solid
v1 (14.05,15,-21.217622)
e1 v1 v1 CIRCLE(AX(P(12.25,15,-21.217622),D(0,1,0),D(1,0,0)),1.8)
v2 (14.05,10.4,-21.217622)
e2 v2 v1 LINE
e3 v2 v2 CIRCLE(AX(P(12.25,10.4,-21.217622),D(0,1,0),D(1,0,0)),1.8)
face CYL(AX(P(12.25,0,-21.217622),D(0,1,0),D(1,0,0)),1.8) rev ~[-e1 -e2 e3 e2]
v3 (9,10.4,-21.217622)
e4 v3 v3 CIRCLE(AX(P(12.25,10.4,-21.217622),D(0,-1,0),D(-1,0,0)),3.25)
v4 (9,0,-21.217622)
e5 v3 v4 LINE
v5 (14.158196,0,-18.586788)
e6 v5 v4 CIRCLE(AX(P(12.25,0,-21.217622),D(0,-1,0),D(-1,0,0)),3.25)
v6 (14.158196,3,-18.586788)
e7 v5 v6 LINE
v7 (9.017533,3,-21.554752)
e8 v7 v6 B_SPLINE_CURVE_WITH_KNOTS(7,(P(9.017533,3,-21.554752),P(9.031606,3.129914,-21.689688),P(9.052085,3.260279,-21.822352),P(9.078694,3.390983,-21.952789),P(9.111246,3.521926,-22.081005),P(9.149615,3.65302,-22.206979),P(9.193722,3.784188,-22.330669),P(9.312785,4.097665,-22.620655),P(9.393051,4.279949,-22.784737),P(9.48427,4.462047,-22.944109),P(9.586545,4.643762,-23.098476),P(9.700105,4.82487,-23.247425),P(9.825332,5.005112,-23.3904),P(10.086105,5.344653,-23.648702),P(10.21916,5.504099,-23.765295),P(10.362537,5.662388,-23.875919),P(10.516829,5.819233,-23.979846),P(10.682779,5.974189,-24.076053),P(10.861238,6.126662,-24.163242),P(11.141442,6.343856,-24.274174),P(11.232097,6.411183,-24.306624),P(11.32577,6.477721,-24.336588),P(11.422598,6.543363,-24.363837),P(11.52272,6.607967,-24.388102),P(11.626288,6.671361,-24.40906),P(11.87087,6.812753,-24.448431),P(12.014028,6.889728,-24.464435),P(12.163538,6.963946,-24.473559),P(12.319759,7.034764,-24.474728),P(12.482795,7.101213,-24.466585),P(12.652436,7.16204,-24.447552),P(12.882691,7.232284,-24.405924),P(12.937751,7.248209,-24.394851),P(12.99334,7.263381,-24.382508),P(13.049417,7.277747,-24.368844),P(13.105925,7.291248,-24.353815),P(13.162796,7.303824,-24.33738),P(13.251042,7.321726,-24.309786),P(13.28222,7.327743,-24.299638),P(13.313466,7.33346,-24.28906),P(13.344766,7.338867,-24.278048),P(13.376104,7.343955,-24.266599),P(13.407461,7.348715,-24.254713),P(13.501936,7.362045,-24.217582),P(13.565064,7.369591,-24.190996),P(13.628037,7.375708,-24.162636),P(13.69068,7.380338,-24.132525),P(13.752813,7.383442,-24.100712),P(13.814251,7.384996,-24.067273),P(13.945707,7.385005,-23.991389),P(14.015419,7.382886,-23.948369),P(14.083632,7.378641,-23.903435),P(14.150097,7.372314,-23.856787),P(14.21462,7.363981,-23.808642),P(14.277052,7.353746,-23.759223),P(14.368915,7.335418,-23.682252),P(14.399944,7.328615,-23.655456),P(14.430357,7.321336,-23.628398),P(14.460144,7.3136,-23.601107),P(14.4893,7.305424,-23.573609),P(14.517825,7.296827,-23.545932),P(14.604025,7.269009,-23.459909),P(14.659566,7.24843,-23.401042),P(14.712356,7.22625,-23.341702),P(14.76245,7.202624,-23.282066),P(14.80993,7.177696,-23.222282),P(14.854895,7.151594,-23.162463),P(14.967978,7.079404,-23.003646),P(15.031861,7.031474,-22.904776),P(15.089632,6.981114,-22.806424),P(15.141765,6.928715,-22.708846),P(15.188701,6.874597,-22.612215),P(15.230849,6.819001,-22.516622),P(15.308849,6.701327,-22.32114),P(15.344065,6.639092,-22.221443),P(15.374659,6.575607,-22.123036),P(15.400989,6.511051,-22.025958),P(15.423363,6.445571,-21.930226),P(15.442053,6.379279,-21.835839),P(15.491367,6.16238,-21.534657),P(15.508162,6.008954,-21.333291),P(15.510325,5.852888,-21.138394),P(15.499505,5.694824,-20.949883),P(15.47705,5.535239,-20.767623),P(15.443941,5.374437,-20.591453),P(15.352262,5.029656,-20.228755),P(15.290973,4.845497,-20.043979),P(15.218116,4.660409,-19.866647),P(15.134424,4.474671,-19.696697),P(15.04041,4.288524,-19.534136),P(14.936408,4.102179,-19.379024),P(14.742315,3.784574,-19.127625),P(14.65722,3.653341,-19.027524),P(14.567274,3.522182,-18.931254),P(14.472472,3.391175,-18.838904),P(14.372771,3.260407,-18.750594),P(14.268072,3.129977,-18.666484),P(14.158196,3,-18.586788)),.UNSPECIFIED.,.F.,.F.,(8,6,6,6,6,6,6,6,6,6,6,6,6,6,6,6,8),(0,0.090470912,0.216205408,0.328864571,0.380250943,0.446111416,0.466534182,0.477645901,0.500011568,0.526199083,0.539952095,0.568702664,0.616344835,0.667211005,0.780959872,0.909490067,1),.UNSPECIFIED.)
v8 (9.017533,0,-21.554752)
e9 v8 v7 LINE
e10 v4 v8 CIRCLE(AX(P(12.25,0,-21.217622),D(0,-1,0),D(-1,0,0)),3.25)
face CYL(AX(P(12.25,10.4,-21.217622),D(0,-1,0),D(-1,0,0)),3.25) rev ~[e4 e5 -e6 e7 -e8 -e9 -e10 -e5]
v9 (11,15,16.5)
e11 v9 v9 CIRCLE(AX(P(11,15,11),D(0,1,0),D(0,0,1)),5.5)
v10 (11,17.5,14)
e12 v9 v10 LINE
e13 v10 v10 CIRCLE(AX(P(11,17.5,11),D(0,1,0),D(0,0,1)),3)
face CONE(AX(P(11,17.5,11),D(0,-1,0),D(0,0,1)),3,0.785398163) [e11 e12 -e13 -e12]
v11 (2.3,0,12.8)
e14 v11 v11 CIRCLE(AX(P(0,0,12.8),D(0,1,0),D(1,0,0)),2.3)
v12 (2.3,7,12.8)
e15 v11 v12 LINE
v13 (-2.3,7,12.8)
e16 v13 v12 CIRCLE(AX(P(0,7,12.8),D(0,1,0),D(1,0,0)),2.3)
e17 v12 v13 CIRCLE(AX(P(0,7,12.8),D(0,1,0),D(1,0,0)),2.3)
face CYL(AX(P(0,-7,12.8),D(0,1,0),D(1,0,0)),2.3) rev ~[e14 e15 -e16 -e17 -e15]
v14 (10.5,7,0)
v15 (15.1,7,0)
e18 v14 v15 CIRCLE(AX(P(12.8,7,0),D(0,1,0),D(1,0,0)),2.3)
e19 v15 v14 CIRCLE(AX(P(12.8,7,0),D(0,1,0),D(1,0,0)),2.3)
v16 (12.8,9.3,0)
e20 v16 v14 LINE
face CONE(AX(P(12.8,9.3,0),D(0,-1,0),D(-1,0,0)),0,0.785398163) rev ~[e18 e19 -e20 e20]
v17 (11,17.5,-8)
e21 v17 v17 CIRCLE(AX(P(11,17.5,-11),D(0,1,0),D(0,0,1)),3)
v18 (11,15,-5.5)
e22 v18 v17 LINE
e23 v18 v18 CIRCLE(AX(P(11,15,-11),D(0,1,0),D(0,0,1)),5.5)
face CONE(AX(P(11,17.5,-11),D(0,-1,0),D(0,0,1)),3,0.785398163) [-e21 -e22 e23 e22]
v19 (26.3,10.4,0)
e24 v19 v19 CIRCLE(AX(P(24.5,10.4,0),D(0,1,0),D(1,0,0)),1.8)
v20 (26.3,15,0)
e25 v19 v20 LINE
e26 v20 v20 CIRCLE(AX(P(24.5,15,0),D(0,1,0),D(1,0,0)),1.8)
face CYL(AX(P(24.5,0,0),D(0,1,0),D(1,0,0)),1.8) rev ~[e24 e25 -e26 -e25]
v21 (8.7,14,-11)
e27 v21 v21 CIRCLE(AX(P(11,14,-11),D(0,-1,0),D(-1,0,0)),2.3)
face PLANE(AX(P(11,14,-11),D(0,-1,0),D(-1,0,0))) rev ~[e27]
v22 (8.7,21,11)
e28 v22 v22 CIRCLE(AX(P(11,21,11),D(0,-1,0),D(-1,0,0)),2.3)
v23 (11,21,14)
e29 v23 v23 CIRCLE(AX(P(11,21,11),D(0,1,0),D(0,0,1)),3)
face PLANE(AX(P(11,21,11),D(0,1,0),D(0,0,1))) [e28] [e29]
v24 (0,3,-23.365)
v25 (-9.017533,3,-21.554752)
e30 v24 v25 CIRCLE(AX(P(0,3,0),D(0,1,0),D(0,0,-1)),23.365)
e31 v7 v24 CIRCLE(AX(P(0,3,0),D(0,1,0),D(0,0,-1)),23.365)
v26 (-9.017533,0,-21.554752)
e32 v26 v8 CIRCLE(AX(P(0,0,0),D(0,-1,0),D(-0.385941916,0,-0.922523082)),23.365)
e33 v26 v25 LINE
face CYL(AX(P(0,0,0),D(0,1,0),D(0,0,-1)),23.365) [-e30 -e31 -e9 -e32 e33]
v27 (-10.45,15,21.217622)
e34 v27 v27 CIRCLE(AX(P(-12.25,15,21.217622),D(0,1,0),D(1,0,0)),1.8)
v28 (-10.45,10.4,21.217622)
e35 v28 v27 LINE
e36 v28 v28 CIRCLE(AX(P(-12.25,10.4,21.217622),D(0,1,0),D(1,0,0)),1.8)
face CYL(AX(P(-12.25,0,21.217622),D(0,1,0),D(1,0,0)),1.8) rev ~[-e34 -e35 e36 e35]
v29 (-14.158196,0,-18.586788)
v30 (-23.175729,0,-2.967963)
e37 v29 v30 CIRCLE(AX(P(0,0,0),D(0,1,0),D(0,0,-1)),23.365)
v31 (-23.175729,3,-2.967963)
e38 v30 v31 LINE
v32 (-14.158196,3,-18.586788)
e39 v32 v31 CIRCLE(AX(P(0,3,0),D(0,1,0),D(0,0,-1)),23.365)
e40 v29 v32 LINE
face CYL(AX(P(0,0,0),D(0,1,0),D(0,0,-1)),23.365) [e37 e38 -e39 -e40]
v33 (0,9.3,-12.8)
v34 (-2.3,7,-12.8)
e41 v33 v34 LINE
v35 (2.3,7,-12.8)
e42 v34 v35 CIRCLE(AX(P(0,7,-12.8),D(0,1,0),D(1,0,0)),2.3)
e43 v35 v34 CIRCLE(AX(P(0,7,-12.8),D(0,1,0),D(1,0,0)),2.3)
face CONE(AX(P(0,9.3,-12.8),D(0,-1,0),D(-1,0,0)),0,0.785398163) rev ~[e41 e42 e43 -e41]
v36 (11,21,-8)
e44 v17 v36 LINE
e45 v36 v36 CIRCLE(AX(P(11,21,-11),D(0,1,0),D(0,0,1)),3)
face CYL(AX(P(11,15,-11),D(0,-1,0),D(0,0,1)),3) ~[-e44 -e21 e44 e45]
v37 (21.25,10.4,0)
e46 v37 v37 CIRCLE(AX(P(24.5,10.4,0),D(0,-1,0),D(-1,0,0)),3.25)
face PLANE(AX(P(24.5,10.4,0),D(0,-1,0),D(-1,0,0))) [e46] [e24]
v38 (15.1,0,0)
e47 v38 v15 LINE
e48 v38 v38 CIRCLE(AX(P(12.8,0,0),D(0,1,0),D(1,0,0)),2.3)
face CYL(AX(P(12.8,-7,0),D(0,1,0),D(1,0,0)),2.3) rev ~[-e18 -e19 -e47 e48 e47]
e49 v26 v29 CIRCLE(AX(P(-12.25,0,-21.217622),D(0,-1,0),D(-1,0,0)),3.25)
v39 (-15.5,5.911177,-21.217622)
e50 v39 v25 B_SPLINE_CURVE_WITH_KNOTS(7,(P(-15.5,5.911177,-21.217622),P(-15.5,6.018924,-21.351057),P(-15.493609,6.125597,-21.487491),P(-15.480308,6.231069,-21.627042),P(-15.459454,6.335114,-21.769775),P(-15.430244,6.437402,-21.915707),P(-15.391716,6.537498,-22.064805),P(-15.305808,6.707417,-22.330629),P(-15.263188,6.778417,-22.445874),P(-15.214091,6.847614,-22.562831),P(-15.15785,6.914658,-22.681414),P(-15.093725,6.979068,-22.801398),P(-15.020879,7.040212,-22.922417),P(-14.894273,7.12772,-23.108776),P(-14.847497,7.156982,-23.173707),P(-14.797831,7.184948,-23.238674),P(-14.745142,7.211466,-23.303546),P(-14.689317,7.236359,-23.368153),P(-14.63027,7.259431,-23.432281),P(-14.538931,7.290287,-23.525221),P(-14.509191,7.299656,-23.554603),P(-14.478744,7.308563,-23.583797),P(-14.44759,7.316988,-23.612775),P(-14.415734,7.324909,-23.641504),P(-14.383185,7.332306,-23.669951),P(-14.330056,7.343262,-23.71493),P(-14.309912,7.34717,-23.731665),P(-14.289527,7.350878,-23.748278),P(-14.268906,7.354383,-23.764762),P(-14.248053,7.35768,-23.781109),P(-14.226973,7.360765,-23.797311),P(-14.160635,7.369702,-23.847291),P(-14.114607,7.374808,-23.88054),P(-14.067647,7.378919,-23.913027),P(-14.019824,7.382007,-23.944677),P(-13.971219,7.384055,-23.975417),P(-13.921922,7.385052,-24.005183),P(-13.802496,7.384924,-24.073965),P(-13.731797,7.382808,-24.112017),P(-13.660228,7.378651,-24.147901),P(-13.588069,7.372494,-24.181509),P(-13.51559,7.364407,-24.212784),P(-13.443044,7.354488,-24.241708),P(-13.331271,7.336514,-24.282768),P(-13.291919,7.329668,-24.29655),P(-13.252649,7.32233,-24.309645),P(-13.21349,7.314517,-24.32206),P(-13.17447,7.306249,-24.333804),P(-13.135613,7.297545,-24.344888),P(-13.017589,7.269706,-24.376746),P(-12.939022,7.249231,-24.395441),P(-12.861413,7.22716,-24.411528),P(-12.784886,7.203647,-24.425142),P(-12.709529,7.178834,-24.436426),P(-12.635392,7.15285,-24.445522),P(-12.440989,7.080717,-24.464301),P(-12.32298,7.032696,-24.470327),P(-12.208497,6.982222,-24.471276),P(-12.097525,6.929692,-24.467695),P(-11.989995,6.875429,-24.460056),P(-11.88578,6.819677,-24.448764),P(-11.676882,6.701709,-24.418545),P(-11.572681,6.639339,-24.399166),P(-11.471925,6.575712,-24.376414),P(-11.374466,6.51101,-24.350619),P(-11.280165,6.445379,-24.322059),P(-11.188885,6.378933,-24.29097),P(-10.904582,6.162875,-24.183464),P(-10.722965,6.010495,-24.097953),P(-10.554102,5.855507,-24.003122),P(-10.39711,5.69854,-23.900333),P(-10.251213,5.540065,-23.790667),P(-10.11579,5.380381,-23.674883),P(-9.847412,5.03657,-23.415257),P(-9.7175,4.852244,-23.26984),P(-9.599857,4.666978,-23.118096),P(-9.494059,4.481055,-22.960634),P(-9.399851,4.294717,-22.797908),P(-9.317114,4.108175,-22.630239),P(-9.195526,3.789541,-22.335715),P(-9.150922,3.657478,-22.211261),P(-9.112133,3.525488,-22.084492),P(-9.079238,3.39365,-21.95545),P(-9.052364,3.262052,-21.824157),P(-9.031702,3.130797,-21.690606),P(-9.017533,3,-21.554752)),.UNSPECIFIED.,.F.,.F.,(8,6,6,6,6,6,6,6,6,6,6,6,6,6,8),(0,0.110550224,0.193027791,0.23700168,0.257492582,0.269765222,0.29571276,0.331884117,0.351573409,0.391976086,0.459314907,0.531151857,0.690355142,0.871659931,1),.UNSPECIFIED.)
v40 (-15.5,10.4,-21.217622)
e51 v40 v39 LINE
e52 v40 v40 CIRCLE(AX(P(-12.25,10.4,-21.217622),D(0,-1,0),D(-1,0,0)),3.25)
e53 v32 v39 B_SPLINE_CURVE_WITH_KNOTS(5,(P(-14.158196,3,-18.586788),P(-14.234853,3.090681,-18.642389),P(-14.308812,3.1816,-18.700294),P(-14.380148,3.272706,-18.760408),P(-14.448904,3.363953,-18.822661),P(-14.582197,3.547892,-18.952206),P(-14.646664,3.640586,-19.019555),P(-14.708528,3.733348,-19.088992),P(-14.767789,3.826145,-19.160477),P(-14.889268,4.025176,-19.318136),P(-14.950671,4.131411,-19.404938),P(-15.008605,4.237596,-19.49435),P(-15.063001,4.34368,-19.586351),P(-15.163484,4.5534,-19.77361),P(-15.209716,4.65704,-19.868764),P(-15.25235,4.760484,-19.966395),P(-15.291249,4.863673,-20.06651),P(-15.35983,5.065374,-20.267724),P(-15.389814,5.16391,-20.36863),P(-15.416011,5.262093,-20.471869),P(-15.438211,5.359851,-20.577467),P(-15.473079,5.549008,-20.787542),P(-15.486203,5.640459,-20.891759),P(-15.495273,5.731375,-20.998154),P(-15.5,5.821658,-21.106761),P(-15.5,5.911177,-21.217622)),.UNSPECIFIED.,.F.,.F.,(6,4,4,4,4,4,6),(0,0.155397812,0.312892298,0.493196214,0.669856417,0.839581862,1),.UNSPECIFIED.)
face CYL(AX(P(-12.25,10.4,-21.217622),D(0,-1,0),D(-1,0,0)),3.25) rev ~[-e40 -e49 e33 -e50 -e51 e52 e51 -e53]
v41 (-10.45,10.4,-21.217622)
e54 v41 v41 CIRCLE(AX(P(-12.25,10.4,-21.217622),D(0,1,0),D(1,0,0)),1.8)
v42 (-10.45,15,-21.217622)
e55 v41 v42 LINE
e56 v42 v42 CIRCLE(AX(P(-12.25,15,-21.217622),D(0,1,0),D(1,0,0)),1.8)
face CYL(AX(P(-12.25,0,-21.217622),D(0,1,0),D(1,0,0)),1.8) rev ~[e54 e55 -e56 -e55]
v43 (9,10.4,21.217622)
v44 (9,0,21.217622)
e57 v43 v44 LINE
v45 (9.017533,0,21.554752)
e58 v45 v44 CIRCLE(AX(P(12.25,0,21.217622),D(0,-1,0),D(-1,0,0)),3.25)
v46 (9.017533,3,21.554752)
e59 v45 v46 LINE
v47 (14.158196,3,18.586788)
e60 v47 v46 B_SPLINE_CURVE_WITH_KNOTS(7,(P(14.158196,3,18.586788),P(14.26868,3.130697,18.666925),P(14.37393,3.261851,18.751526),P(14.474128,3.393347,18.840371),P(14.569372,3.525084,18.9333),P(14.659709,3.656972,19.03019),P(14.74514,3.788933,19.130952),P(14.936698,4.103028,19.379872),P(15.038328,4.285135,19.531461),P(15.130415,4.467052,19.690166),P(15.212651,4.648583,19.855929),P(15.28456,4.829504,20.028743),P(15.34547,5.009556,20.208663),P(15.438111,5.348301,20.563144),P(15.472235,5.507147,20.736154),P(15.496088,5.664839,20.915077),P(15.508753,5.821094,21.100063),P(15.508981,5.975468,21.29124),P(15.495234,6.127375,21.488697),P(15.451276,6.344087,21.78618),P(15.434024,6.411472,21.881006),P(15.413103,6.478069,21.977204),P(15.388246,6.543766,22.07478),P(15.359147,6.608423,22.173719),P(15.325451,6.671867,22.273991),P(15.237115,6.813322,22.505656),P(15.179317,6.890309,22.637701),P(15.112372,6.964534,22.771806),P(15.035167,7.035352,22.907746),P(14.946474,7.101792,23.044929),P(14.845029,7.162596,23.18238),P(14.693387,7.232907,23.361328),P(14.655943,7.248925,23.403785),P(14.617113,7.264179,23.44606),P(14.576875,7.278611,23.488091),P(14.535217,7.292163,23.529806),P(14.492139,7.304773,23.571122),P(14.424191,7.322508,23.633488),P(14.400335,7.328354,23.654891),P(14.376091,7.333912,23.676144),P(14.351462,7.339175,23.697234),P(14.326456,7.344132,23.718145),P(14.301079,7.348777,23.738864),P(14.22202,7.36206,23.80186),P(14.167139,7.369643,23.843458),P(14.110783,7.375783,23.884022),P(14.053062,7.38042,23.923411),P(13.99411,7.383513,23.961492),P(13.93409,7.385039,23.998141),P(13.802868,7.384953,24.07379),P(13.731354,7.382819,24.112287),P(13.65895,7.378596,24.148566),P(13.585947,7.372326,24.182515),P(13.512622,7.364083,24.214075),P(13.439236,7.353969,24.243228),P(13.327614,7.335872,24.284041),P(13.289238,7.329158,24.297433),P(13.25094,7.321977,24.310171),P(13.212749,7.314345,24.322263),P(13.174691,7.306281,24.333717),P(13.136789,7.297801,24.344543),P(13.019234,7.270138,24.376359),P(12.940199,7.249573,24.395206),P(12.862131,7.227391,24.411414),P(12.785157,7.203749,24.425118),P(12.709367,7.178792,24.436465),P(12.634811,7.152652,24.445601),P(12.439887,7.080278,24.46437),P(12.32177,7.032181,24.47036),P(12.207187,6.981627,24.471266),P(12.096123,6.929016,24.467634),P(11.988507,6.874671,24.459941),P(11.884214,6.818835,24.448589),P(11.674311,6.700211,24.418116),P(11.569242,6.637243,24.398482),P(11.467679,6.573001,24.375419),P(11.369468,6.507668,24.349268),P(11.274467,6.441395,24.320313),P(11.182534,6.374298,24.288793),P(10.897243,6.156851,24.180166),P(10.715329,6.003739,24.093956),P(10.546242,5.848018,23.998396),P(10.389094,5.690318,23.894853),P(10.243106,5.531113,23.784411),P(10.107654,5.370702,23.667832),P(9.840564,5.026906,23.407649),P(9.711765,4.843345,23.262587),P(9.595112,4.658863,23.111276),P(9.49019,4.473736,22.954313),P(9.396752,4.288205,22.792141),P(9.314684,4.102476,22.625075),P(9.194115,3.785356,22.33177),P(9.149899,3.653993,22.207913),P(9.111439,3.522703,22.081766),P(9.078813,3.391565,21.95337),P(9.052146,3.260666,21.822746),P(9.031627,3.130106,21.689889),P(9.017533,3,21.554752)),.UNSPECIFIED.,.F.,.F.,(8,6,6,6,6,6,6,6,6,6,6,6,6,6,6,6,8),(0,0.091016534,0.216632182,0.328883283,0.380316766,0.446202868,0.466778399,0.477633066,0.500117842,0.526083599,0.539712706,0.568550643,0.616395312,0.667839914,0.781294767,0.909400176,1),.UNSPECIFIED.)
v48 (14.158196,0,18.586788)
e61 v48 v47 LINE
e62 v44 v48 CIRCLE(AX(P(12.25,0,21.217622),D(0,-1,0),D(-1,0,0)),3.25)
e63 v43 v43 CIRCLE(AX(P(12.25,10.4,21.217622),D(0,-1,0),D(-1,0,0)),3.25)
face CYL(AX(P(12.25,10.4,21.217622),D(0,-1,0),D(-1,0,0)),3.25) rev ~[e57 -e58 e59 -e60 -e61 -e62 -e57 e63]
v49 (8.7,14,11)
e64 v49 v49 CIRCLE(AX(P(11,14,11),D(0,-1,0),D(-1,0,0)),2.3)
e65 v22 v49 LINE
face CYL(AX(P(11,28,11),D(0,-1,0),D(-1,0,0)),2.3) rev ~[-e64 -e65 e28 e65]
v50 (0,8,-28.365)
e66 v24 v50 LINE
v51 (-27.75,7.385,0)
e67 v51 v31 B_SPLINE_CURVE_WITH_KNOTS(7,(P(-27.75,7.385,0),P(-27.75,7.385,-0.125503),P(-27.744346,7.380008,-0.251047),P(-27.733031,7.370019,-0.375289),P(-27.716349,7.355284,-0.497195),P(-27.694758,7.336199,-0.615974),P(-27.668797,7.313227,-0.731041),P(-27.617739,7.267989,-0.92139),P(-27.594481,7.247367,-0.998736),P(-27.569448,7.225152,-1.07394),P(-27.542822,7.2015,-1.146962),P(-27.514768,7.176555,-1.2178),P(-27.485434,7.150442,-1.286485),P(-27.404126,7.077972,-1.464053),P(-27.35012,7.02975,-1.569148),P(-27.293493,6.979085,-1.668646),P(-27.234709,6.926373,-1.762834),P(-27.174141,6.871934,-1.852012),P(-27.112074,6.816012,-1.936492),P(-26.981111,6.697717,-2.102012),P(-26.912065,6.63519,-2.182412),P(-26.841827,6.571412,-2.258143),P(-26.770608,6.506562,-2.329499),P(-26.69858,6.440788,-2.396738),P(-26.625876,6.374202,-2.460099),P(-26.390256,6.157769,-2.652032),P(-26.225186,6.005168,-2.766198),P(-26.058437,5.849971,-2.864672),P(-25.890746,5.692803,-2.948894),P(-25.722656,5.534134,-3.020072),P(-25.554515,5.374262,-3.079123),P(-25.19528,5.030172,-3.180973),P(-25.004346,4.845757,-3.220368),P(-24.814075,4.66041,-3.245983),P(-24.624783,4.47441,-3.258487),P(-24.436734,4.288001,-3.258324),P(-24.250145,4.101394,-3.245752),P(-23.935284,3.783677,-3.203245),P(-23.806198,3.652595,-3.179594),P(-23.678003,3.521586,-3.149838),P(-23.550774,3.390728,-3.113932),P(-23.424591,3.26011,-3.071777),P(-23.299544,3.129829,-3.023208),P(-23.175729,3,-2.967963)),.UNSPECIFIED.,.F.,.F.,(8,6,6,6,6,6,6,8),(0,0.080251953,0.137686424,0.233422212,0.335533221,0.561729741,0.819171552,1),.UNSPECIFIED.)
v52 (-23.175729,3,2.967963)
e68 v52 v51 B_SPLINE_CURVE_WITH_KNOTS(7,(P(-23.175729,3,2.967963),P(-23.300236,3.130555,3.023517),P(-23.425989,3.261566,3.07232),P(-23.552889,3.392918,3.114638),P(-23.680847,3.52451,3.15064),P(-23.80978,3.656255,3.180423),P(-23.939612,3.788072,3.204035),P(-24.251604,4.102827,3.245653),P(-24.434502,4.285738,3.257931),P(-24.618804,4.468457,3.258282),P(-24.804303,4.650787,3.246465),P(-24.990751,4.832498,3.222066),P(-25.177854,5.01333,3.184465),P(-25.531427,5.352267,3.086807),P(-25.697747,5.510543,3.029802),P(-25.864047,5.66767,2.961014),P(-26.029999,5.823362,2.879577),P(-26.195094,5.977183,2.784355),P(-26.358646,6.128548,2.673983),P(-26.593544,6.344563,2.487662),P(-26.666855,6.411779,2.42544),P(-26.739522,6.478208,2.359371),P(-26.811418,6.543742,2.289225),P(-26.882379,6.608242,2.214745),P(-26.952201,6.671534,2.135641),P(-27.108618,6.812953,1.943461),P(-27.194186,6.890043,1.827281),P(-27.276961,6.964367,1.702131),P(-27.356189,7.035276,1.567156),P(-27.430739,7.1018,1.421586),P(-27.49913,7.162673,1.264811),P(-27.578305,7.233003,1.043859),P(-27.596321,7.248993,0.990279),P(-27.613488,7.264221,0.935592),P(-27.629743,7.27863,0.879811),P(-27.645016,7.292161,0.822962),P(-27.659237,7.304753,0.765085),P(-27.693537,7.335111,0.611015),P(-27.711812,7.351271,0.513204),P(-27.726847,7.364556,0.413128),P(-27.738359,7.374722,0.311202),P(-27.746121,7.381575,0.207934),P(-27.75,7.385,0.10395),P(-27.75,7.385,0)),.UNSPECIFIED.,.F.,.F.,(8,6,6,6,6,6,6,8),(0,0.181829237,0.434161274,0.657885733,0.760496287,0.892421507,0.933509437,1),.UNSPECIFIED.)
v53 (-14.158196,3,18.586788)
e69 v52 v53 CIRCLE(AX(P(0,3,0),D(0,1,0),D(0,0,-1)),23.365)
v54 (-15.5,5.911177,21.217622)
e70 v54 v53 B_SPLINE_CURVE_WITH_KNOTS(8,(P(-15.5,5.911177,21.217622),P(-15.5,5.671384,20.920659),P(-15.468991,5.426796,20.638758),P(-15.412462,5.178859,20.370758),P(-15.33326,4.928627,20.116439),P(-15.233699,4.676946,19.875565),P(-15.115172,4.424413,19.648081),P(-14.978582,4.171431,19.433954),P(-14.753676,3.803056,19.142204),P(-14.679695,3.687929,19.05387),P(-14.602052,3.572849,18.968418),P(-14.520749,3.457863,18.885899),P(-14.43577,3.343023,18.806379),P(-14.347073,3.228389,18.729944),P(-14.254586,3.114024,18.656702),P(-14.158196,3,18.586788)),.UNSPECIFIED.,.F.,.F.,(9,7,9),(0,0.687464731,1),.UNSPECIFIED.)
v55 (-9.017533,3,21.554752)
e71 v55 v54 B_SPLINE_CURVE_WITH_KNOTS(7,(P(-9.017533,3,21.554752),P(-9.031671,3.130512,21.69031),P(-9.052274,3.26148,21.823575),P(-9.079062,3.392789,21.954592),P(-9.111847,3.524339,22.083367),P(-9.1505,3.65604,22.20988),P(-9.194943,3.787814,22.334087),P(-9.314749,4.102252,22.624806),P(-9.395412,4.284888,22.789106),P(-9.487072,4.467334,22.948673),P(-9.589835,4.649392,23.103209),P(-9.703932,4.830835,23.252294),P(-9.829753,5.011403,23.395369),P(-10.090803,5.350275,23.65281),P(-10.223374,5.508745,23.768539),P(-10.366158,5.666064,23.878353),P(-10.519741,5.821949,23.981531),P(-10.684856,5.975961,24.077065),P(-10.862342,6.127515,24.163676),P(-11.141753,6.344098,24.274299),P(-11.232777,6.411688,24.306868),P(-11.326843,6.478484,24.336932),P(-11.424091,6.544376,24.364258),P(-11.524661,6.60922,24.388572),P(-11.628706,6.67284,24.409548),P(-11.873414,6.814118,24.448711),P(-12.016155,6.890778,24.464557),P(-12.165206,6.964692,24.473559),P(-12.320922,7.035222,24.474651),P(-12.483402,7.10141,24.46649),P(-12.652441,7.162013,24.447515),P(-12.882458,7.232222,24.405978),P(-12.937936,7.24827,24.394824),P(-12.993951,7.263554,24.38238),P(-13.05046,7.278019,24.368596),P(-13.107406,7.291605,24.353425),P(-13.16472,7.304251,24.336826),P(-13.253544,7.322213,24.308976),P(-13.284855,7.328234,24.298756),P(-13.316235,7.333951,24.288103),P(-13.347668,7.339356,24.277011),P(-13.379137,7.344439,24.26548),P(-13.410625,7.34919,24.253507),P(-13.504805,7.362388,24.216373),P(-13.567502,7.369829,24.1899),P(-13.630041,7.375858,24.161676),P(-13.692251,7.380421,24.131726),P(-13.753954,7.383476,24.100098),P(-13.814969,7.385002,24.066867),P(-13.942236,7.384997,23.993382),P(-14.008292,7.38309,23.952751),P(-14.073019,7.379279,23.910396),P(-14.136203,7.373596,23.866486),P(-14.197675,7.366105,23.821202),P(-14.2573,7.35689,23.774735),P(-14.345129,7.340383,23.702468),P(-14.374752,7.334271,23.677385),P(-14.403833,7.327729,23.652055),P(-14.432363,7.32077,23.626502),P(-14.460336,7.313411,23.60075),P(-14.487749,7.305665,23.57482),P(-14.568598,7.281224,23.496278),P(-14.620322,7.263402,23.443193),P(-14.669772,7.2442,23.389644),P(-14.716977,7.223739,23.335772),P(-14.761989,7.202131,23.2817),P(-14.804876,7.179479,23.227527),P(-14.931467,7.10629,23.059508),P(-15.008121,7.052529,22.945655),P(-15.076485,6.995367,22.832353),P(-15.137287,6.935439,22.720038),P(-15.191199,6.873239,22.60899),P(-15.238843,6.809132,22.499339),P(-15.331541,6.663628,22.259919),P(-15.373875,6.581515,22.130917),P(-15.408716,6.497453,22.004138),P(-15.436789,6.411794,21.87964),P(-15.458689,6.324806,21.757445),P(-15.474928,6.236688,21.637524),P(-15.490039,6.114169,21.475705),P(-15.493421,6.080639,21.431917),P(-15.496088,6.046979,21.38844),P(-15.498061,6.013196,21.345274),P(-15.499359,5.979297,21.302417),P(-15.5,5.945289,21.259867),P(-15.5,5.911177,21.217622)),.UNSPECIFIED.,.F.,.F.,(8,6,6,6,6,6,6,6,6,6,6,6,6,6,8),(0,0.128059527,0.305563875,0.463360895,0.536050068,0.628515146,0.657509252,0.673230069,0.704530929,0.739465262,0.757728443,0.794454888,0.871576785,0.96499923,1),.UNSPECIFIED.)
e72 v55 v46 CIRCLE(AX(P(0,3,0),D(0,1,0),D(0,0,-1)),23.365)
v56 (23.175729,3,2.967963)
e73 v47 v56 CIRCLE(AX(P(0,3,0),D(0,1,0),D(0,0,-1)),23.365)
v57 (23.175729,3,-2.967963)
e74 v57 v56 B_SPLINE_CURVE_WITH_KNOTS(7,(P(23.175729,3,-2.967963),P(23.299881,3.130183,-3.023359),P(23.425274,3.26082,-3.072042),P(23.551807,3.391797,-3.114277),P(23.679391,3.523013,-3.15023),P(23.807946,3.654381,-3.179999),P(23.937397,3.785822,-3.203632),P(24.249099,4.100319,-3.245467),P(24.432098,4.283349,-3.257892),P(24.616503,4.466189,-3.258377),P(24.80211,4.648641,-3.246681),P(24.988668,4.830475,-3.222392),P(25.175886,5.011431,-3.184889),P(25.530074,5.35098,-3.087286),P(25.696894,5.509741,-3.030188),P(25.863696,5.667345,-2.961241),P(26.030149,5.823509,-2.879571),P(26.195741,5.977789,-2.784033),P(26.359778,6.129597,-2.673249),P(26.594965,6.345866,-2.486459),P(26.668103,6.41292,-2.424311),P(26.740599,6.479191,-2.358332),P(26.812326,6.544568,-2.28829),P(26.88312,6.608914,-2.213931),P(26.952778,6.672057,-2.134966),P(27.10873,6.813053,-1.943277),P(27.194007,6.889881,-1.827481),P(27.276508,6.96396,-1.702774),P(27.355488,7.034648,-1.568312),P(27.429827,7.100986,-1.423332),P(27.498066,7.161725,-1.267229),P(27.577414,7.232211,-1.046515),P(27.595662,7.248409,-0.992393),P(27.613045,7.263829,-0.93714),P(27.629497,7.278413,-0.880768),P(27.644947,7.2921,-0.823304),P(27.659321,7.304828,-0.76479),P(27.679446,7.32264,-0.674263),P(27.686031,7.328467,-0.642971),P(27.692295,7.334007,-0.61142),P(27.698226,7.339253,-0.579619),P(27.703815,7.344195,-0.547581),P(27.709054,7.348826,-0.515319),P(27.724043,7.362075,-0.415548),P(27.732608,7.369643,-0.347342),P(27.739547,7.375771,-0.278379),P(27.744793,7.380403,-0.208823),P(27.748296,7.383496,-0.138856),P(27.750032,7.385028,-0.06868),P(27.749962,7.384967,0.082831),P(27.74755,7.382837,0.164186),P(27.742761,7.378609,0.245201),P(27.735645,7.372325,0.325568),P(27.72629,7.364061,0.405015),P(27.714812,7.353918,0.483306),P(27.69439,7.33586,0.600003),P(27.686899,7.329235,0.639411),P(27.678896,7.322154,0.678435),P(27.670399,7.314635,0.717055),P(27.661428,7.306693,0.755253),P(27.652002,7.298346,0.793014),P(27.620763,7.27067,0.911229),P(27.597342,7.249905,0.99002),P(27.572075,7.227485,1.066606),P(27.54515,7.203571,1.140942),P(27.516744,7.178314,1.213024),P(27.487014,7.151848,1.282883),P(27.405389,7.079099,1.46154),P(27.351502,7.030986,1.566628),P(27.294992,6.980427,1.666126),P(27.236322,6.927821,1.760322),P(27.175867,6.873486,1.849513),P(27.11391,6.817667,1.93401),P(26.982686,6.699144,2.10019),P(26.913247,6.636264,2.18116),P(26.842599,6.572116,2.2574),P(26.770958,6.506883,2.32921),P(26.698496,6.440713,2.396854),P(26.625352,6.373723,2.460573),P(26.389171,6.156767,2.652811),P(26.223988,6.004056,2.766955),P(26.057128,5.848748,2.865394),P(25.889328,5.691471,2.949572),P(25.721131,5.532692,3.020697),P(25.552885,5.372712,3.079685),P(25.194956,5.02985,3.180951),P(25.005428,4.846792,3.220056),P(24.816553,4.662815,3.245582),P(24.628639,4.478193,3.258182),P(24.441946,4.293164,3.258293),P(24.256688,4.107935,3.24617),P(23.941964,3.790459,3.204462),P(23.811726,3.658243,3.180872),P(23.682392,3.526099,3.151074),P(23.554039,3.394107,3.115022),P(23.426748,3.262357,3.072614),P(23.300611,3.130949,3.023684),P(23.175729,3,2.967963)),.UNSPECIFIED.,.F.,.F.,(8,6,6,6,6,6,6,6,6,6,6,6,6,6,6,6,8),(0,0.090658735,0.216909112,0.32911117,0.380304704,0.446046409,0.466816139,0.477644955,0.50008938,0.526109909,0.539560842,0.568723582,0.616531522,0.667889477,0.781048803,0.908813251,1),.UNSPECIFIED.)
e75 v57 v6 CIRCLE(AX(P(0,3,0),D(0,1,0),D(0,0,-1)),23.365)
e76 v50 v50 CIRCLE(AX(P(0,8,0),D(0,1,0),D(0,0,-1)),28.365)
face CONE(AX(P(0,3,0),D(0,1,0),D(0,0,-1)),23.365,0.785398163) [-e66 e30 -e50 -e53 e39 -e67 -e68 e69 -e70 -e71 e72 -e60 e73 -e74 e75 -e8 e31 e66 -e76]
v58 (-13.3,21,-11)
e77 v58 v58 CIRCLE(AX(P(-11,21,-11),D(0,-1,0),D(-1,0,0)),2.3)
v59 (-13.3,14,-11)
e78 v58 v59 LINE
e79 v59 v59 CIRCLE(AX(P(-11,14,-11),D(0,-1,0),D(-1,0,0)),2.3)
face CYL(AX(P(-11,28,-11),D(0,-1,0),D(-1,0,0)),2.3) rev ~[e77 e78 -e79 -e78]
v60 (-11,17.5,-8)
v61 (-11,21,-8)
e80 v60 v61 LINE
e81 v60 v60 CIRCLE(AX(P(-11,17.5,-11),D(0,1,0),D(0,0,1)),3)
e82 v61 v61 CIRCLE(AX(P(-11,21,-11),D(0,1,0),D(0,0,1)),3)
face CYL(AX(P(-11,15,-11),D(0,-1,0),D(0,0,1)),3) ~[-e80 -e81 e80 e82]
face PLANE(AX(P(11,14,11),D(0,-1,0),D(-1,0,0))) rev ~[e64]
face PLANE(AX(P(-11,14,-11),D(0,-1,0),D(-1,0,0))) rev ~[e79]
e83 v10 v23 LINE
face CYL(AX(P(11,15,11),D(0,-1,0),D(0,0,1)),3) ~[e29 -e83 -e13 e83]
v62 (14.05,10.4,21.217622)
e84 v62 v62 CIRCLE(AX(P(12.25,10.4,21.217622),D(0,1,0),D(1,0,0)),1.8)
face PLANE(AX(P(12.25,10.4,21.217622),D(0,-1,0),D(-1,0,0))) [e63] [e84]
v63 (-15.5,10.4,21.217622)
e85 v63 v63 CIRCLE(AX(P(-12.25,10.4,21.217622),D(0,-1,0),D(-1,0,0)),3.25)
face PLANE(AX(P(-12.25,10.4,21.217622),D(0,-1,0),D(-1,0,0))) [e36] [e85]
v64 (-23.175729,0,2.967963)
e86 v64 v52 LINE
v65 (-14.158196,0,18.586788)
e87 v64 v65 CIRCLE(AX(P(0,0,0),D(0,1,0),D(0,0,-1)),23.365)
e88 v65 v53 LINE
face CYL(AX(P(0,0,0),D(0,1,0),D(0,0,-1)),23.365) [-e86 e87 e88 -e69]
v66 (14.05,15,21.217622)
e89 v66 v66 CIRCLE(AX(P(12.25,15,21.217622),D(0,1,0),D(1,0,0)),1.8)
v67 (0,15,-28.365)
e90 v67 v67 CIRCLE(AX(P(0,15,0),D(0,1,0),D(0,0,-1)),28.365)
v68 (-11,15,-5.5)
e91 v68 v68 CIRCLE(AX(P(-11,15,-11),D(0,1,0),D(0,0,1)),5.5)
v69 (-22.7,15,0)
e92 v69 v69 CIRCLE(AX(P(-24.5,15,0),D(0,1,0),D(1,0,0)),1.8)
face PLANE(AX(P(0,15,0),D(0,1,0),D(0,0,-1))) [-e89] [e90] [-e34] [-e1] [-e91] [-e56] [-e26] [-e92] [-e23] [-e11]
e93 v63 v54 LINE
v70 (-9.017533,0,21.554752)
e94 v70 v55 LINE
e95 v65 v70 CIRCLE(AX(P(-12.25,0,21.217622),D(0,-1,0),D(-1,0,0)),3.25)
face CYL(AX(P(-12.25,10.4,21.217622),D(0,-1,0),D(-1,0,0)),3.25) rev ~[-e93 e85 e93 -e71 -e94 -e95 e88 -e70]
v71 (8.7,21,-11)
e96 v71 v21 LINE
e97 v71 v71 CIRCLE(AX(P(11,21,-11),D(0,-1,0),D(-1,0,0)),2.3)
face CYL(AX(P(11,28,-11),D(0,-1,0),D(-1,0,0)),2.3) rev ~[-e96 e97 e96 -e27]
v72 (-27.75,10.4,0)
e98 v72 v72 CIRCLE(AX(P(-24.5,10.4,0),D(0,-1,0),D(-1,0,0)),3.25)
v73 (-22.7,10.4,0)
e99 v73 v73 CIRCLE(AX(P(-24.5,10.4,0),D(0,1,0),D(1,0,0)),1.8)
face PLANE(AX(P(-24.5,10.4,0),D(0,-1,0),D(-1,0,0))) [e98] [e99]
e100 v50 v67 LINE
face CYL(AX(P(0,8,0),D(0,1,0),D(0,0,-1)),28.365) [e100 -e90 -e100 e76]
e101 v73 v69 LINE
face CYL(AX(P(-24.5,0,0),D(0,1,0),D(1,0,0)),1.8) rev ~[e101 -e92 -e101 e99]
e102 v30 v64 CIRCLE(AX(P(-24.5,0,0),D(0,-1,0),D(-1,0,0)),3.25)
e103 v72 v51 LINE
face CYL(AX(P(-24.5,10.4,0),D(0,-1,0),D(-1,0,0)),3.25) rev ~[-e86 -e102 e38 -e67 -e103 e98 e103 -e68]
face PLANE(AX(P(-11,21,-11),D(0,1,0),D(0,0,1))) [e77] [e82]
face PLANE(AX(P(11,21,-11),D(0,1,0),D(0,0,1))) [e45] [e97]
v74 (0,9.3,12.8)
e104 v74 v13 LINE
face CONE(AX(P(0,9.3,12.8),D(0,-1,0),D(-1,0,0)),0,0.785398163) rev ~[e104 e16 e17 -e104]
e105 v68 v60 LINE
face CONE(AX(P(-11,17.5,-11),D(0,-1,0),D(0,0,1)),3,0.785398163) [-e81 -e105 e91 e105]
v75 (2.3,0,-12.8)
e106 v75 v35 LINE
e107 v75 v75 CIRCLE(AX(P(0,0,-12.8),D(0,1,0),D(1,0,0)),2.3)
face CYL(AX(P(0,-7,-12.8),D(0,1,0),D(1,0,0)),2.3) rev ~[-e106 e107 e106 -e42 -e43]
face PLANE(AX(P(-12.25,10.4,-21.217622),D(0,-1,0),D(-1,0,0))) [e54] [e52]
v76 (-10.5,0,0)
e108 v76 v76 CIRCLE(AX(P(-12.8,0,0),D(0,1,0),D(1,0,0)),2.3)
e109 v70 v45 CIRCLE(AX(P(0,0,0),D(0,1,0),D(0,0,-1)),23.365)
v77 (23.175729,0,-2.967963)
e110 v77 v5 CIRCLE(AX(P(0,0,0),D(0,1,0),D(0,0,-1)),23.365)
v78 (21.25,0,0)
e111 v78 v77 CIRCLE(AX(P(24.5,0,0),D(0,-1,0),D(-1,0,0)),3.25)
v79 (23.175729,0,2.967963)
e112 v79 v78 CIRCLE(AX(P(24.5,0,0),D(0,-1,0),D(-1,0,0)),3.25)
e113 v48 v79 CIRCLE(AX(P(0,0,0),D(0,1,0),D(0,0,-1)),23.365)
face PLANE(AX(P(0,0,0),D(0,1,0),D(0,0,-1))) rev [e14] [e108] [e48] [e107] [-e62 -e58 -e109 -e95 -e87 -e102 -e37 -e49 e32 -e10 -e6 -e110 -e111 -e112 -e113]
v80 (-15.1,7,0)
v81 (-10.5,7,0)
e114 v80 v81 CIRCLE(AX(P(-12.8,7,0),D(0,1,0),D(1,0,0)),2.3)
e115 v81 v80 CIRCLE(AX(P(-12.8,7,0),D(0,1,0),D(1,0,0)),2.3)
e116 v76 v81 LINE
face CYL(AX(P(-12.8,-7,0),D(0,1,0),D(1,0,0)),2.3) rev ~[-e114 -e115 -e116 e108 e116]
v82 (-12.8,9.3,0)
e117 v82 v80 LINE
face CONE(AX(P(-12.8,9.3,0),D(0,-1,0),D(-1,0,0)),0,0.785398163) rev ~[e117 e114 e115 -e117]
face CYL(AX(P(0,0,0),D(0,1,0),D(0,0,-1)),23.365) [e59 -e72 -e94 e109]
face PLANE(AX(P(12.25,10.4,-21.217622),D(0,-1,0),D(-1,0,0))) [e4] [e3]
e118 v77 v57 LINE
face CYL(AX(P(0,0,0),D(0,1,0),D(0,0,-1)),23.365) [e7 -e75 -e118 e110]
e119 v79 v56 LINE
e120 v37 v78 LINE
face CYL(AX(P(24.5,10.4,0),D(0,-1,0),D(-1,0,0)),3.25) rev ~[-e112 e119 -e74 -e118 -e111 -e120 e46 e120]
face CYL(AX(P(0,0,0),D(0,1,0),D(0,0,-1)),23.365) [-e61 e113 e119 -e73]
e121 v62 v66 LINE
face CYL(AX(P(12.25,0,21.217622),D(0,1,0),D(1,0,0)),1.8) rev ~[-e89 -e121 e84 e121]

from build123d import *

# Parameters (mm, degrees)
CBORE_FOR_M3_HEX_SOCKET_HEAD_CAP_SCREW1_D           = 3.6
CBORE_FOR_M3_HEX_SOCKET_HEAD_CAP_SCREW1_CBORE_D     = 6.5
CBORE_FOR_M3_HEX_SOCKET_HEAD_CAP_SCREW1_CBORE_DEPTH = 10.4
HOLEWZD2_D                                          = 4.6
HOLEWZD2_DEPTH                                      = 7
HOLEWZD2_TIP                                        = 2.3
SKETCH9_R                                           = 3
BOSS_EXTRUDE1_DEPTH                                 = 6
HOLEWZD1_D                                          = 4.6
HOLEWZD1_DEPTH                                      = 7
CHAMFER1_SIZE                                       = 2.5


with BuildPart() as part:
    # Sketch3 → Revolve1 (revolve)
    with BuildSketch(Plane.XY, mode=Mode.PRIVATE) as revolve1_sk:
        Polygon((0, 0), (23.365, 0), (23.365, 3), (28.365, 8), (28.365, 15), (0, 15), align=None)
    revolve(revolve1_sk.sketch.rotate(Axis((0, 0, 0), (0, 1, 0)), 90), axis=Axis((0, 0, 0), (0, 1, 0)))

    # CBORE for M3 Hex Socket Head Cap Screw1 (through all)
    with Locations(Plane(origin=(0, 0, 0), x_dir=(-1, 0, 0), z_dir=(0, -1, 0))):
        with Locations((-24.5, 0), (12.25, 21.217622393), (-12.25, 21.217622393), (-12.25, -21.217622393), (12.25, -21.217622393), (24.5, 0)):
            CounterBoreHole(CBORE_FOR_M3_HEX_SOCKET_HEAD_CAP_SCREW1_D / 2, CBORE_FOR_M3_HEX_SOCKET_HEAD_CAP_SCREW1_CBORE_D / 2, CBORE_FOR_M3_HEX_SOCKET_HEAD_CAP_SCREW1_CBORE_DEPTH)

    # HoleWzd2
    with Locations(Plane(origin=(0, 0, 0), x_dir=(-1, 0, 0), z_dir=(0, -1, 0))):
        with Locations((-12.8, 0), (0, 12.8), (12.8, 0), (0, -12.8)):
            Hole(HOLEWZD2_D / 2, depth=HOLEWZD2_DEPTH)
            with Locations((0, 0, -(HOLEWZD2_DEPTH + HOLEWZD2_TIP / 2))):  # 90° drill point
                Cone(0, HOLEWZD2_D / 2, HOLEWZD2_TIP, mode=Mode.SUBTRACT)

    # Sketch9 → Boss-Extrude1 (add)
    with BuildSketch(Plane(origin=(0, 15, 0), x_dir=(1, 0, 0), z_dir=(0, 1, 0))):
        with Locations(Location((-11, 11, 0), (0, 0, 270))):
            Circle(SKETCH9_R)
        with Locations(Location((11, 11, 0), (0, 0, 270))):
            Circle(SKETCH9_R)
        with Locations(Location((11, -11, 0), (0, 0, 270))):
            Circle(SKETCH9_R)
    extrude(amount=BOSS_EXTRUDE1_DEPTH)

    # HoleWzd1
    with Locations(Plane(origin=(0, 21, 0), x_dir=(1, 0, 0), z_dir=(0, 1, 0))):
        with Locations((11, -11), (11, 11), (-11, 11)):
            Hole(HOLEWZD1_D / 2, depth=HOLEWZD1_DEPTH)

    # Chamfer1
    chamfer1_edges = [part.edges().sort_by_distance(p)[0] for p in [
        (-11, 15, -14),
        (11, 15, -14),
        (11, 15, 8),
    ]]
    chamfer(chamfer1_edges, length=CHAMFER1_SIZE)


solid = part.part
